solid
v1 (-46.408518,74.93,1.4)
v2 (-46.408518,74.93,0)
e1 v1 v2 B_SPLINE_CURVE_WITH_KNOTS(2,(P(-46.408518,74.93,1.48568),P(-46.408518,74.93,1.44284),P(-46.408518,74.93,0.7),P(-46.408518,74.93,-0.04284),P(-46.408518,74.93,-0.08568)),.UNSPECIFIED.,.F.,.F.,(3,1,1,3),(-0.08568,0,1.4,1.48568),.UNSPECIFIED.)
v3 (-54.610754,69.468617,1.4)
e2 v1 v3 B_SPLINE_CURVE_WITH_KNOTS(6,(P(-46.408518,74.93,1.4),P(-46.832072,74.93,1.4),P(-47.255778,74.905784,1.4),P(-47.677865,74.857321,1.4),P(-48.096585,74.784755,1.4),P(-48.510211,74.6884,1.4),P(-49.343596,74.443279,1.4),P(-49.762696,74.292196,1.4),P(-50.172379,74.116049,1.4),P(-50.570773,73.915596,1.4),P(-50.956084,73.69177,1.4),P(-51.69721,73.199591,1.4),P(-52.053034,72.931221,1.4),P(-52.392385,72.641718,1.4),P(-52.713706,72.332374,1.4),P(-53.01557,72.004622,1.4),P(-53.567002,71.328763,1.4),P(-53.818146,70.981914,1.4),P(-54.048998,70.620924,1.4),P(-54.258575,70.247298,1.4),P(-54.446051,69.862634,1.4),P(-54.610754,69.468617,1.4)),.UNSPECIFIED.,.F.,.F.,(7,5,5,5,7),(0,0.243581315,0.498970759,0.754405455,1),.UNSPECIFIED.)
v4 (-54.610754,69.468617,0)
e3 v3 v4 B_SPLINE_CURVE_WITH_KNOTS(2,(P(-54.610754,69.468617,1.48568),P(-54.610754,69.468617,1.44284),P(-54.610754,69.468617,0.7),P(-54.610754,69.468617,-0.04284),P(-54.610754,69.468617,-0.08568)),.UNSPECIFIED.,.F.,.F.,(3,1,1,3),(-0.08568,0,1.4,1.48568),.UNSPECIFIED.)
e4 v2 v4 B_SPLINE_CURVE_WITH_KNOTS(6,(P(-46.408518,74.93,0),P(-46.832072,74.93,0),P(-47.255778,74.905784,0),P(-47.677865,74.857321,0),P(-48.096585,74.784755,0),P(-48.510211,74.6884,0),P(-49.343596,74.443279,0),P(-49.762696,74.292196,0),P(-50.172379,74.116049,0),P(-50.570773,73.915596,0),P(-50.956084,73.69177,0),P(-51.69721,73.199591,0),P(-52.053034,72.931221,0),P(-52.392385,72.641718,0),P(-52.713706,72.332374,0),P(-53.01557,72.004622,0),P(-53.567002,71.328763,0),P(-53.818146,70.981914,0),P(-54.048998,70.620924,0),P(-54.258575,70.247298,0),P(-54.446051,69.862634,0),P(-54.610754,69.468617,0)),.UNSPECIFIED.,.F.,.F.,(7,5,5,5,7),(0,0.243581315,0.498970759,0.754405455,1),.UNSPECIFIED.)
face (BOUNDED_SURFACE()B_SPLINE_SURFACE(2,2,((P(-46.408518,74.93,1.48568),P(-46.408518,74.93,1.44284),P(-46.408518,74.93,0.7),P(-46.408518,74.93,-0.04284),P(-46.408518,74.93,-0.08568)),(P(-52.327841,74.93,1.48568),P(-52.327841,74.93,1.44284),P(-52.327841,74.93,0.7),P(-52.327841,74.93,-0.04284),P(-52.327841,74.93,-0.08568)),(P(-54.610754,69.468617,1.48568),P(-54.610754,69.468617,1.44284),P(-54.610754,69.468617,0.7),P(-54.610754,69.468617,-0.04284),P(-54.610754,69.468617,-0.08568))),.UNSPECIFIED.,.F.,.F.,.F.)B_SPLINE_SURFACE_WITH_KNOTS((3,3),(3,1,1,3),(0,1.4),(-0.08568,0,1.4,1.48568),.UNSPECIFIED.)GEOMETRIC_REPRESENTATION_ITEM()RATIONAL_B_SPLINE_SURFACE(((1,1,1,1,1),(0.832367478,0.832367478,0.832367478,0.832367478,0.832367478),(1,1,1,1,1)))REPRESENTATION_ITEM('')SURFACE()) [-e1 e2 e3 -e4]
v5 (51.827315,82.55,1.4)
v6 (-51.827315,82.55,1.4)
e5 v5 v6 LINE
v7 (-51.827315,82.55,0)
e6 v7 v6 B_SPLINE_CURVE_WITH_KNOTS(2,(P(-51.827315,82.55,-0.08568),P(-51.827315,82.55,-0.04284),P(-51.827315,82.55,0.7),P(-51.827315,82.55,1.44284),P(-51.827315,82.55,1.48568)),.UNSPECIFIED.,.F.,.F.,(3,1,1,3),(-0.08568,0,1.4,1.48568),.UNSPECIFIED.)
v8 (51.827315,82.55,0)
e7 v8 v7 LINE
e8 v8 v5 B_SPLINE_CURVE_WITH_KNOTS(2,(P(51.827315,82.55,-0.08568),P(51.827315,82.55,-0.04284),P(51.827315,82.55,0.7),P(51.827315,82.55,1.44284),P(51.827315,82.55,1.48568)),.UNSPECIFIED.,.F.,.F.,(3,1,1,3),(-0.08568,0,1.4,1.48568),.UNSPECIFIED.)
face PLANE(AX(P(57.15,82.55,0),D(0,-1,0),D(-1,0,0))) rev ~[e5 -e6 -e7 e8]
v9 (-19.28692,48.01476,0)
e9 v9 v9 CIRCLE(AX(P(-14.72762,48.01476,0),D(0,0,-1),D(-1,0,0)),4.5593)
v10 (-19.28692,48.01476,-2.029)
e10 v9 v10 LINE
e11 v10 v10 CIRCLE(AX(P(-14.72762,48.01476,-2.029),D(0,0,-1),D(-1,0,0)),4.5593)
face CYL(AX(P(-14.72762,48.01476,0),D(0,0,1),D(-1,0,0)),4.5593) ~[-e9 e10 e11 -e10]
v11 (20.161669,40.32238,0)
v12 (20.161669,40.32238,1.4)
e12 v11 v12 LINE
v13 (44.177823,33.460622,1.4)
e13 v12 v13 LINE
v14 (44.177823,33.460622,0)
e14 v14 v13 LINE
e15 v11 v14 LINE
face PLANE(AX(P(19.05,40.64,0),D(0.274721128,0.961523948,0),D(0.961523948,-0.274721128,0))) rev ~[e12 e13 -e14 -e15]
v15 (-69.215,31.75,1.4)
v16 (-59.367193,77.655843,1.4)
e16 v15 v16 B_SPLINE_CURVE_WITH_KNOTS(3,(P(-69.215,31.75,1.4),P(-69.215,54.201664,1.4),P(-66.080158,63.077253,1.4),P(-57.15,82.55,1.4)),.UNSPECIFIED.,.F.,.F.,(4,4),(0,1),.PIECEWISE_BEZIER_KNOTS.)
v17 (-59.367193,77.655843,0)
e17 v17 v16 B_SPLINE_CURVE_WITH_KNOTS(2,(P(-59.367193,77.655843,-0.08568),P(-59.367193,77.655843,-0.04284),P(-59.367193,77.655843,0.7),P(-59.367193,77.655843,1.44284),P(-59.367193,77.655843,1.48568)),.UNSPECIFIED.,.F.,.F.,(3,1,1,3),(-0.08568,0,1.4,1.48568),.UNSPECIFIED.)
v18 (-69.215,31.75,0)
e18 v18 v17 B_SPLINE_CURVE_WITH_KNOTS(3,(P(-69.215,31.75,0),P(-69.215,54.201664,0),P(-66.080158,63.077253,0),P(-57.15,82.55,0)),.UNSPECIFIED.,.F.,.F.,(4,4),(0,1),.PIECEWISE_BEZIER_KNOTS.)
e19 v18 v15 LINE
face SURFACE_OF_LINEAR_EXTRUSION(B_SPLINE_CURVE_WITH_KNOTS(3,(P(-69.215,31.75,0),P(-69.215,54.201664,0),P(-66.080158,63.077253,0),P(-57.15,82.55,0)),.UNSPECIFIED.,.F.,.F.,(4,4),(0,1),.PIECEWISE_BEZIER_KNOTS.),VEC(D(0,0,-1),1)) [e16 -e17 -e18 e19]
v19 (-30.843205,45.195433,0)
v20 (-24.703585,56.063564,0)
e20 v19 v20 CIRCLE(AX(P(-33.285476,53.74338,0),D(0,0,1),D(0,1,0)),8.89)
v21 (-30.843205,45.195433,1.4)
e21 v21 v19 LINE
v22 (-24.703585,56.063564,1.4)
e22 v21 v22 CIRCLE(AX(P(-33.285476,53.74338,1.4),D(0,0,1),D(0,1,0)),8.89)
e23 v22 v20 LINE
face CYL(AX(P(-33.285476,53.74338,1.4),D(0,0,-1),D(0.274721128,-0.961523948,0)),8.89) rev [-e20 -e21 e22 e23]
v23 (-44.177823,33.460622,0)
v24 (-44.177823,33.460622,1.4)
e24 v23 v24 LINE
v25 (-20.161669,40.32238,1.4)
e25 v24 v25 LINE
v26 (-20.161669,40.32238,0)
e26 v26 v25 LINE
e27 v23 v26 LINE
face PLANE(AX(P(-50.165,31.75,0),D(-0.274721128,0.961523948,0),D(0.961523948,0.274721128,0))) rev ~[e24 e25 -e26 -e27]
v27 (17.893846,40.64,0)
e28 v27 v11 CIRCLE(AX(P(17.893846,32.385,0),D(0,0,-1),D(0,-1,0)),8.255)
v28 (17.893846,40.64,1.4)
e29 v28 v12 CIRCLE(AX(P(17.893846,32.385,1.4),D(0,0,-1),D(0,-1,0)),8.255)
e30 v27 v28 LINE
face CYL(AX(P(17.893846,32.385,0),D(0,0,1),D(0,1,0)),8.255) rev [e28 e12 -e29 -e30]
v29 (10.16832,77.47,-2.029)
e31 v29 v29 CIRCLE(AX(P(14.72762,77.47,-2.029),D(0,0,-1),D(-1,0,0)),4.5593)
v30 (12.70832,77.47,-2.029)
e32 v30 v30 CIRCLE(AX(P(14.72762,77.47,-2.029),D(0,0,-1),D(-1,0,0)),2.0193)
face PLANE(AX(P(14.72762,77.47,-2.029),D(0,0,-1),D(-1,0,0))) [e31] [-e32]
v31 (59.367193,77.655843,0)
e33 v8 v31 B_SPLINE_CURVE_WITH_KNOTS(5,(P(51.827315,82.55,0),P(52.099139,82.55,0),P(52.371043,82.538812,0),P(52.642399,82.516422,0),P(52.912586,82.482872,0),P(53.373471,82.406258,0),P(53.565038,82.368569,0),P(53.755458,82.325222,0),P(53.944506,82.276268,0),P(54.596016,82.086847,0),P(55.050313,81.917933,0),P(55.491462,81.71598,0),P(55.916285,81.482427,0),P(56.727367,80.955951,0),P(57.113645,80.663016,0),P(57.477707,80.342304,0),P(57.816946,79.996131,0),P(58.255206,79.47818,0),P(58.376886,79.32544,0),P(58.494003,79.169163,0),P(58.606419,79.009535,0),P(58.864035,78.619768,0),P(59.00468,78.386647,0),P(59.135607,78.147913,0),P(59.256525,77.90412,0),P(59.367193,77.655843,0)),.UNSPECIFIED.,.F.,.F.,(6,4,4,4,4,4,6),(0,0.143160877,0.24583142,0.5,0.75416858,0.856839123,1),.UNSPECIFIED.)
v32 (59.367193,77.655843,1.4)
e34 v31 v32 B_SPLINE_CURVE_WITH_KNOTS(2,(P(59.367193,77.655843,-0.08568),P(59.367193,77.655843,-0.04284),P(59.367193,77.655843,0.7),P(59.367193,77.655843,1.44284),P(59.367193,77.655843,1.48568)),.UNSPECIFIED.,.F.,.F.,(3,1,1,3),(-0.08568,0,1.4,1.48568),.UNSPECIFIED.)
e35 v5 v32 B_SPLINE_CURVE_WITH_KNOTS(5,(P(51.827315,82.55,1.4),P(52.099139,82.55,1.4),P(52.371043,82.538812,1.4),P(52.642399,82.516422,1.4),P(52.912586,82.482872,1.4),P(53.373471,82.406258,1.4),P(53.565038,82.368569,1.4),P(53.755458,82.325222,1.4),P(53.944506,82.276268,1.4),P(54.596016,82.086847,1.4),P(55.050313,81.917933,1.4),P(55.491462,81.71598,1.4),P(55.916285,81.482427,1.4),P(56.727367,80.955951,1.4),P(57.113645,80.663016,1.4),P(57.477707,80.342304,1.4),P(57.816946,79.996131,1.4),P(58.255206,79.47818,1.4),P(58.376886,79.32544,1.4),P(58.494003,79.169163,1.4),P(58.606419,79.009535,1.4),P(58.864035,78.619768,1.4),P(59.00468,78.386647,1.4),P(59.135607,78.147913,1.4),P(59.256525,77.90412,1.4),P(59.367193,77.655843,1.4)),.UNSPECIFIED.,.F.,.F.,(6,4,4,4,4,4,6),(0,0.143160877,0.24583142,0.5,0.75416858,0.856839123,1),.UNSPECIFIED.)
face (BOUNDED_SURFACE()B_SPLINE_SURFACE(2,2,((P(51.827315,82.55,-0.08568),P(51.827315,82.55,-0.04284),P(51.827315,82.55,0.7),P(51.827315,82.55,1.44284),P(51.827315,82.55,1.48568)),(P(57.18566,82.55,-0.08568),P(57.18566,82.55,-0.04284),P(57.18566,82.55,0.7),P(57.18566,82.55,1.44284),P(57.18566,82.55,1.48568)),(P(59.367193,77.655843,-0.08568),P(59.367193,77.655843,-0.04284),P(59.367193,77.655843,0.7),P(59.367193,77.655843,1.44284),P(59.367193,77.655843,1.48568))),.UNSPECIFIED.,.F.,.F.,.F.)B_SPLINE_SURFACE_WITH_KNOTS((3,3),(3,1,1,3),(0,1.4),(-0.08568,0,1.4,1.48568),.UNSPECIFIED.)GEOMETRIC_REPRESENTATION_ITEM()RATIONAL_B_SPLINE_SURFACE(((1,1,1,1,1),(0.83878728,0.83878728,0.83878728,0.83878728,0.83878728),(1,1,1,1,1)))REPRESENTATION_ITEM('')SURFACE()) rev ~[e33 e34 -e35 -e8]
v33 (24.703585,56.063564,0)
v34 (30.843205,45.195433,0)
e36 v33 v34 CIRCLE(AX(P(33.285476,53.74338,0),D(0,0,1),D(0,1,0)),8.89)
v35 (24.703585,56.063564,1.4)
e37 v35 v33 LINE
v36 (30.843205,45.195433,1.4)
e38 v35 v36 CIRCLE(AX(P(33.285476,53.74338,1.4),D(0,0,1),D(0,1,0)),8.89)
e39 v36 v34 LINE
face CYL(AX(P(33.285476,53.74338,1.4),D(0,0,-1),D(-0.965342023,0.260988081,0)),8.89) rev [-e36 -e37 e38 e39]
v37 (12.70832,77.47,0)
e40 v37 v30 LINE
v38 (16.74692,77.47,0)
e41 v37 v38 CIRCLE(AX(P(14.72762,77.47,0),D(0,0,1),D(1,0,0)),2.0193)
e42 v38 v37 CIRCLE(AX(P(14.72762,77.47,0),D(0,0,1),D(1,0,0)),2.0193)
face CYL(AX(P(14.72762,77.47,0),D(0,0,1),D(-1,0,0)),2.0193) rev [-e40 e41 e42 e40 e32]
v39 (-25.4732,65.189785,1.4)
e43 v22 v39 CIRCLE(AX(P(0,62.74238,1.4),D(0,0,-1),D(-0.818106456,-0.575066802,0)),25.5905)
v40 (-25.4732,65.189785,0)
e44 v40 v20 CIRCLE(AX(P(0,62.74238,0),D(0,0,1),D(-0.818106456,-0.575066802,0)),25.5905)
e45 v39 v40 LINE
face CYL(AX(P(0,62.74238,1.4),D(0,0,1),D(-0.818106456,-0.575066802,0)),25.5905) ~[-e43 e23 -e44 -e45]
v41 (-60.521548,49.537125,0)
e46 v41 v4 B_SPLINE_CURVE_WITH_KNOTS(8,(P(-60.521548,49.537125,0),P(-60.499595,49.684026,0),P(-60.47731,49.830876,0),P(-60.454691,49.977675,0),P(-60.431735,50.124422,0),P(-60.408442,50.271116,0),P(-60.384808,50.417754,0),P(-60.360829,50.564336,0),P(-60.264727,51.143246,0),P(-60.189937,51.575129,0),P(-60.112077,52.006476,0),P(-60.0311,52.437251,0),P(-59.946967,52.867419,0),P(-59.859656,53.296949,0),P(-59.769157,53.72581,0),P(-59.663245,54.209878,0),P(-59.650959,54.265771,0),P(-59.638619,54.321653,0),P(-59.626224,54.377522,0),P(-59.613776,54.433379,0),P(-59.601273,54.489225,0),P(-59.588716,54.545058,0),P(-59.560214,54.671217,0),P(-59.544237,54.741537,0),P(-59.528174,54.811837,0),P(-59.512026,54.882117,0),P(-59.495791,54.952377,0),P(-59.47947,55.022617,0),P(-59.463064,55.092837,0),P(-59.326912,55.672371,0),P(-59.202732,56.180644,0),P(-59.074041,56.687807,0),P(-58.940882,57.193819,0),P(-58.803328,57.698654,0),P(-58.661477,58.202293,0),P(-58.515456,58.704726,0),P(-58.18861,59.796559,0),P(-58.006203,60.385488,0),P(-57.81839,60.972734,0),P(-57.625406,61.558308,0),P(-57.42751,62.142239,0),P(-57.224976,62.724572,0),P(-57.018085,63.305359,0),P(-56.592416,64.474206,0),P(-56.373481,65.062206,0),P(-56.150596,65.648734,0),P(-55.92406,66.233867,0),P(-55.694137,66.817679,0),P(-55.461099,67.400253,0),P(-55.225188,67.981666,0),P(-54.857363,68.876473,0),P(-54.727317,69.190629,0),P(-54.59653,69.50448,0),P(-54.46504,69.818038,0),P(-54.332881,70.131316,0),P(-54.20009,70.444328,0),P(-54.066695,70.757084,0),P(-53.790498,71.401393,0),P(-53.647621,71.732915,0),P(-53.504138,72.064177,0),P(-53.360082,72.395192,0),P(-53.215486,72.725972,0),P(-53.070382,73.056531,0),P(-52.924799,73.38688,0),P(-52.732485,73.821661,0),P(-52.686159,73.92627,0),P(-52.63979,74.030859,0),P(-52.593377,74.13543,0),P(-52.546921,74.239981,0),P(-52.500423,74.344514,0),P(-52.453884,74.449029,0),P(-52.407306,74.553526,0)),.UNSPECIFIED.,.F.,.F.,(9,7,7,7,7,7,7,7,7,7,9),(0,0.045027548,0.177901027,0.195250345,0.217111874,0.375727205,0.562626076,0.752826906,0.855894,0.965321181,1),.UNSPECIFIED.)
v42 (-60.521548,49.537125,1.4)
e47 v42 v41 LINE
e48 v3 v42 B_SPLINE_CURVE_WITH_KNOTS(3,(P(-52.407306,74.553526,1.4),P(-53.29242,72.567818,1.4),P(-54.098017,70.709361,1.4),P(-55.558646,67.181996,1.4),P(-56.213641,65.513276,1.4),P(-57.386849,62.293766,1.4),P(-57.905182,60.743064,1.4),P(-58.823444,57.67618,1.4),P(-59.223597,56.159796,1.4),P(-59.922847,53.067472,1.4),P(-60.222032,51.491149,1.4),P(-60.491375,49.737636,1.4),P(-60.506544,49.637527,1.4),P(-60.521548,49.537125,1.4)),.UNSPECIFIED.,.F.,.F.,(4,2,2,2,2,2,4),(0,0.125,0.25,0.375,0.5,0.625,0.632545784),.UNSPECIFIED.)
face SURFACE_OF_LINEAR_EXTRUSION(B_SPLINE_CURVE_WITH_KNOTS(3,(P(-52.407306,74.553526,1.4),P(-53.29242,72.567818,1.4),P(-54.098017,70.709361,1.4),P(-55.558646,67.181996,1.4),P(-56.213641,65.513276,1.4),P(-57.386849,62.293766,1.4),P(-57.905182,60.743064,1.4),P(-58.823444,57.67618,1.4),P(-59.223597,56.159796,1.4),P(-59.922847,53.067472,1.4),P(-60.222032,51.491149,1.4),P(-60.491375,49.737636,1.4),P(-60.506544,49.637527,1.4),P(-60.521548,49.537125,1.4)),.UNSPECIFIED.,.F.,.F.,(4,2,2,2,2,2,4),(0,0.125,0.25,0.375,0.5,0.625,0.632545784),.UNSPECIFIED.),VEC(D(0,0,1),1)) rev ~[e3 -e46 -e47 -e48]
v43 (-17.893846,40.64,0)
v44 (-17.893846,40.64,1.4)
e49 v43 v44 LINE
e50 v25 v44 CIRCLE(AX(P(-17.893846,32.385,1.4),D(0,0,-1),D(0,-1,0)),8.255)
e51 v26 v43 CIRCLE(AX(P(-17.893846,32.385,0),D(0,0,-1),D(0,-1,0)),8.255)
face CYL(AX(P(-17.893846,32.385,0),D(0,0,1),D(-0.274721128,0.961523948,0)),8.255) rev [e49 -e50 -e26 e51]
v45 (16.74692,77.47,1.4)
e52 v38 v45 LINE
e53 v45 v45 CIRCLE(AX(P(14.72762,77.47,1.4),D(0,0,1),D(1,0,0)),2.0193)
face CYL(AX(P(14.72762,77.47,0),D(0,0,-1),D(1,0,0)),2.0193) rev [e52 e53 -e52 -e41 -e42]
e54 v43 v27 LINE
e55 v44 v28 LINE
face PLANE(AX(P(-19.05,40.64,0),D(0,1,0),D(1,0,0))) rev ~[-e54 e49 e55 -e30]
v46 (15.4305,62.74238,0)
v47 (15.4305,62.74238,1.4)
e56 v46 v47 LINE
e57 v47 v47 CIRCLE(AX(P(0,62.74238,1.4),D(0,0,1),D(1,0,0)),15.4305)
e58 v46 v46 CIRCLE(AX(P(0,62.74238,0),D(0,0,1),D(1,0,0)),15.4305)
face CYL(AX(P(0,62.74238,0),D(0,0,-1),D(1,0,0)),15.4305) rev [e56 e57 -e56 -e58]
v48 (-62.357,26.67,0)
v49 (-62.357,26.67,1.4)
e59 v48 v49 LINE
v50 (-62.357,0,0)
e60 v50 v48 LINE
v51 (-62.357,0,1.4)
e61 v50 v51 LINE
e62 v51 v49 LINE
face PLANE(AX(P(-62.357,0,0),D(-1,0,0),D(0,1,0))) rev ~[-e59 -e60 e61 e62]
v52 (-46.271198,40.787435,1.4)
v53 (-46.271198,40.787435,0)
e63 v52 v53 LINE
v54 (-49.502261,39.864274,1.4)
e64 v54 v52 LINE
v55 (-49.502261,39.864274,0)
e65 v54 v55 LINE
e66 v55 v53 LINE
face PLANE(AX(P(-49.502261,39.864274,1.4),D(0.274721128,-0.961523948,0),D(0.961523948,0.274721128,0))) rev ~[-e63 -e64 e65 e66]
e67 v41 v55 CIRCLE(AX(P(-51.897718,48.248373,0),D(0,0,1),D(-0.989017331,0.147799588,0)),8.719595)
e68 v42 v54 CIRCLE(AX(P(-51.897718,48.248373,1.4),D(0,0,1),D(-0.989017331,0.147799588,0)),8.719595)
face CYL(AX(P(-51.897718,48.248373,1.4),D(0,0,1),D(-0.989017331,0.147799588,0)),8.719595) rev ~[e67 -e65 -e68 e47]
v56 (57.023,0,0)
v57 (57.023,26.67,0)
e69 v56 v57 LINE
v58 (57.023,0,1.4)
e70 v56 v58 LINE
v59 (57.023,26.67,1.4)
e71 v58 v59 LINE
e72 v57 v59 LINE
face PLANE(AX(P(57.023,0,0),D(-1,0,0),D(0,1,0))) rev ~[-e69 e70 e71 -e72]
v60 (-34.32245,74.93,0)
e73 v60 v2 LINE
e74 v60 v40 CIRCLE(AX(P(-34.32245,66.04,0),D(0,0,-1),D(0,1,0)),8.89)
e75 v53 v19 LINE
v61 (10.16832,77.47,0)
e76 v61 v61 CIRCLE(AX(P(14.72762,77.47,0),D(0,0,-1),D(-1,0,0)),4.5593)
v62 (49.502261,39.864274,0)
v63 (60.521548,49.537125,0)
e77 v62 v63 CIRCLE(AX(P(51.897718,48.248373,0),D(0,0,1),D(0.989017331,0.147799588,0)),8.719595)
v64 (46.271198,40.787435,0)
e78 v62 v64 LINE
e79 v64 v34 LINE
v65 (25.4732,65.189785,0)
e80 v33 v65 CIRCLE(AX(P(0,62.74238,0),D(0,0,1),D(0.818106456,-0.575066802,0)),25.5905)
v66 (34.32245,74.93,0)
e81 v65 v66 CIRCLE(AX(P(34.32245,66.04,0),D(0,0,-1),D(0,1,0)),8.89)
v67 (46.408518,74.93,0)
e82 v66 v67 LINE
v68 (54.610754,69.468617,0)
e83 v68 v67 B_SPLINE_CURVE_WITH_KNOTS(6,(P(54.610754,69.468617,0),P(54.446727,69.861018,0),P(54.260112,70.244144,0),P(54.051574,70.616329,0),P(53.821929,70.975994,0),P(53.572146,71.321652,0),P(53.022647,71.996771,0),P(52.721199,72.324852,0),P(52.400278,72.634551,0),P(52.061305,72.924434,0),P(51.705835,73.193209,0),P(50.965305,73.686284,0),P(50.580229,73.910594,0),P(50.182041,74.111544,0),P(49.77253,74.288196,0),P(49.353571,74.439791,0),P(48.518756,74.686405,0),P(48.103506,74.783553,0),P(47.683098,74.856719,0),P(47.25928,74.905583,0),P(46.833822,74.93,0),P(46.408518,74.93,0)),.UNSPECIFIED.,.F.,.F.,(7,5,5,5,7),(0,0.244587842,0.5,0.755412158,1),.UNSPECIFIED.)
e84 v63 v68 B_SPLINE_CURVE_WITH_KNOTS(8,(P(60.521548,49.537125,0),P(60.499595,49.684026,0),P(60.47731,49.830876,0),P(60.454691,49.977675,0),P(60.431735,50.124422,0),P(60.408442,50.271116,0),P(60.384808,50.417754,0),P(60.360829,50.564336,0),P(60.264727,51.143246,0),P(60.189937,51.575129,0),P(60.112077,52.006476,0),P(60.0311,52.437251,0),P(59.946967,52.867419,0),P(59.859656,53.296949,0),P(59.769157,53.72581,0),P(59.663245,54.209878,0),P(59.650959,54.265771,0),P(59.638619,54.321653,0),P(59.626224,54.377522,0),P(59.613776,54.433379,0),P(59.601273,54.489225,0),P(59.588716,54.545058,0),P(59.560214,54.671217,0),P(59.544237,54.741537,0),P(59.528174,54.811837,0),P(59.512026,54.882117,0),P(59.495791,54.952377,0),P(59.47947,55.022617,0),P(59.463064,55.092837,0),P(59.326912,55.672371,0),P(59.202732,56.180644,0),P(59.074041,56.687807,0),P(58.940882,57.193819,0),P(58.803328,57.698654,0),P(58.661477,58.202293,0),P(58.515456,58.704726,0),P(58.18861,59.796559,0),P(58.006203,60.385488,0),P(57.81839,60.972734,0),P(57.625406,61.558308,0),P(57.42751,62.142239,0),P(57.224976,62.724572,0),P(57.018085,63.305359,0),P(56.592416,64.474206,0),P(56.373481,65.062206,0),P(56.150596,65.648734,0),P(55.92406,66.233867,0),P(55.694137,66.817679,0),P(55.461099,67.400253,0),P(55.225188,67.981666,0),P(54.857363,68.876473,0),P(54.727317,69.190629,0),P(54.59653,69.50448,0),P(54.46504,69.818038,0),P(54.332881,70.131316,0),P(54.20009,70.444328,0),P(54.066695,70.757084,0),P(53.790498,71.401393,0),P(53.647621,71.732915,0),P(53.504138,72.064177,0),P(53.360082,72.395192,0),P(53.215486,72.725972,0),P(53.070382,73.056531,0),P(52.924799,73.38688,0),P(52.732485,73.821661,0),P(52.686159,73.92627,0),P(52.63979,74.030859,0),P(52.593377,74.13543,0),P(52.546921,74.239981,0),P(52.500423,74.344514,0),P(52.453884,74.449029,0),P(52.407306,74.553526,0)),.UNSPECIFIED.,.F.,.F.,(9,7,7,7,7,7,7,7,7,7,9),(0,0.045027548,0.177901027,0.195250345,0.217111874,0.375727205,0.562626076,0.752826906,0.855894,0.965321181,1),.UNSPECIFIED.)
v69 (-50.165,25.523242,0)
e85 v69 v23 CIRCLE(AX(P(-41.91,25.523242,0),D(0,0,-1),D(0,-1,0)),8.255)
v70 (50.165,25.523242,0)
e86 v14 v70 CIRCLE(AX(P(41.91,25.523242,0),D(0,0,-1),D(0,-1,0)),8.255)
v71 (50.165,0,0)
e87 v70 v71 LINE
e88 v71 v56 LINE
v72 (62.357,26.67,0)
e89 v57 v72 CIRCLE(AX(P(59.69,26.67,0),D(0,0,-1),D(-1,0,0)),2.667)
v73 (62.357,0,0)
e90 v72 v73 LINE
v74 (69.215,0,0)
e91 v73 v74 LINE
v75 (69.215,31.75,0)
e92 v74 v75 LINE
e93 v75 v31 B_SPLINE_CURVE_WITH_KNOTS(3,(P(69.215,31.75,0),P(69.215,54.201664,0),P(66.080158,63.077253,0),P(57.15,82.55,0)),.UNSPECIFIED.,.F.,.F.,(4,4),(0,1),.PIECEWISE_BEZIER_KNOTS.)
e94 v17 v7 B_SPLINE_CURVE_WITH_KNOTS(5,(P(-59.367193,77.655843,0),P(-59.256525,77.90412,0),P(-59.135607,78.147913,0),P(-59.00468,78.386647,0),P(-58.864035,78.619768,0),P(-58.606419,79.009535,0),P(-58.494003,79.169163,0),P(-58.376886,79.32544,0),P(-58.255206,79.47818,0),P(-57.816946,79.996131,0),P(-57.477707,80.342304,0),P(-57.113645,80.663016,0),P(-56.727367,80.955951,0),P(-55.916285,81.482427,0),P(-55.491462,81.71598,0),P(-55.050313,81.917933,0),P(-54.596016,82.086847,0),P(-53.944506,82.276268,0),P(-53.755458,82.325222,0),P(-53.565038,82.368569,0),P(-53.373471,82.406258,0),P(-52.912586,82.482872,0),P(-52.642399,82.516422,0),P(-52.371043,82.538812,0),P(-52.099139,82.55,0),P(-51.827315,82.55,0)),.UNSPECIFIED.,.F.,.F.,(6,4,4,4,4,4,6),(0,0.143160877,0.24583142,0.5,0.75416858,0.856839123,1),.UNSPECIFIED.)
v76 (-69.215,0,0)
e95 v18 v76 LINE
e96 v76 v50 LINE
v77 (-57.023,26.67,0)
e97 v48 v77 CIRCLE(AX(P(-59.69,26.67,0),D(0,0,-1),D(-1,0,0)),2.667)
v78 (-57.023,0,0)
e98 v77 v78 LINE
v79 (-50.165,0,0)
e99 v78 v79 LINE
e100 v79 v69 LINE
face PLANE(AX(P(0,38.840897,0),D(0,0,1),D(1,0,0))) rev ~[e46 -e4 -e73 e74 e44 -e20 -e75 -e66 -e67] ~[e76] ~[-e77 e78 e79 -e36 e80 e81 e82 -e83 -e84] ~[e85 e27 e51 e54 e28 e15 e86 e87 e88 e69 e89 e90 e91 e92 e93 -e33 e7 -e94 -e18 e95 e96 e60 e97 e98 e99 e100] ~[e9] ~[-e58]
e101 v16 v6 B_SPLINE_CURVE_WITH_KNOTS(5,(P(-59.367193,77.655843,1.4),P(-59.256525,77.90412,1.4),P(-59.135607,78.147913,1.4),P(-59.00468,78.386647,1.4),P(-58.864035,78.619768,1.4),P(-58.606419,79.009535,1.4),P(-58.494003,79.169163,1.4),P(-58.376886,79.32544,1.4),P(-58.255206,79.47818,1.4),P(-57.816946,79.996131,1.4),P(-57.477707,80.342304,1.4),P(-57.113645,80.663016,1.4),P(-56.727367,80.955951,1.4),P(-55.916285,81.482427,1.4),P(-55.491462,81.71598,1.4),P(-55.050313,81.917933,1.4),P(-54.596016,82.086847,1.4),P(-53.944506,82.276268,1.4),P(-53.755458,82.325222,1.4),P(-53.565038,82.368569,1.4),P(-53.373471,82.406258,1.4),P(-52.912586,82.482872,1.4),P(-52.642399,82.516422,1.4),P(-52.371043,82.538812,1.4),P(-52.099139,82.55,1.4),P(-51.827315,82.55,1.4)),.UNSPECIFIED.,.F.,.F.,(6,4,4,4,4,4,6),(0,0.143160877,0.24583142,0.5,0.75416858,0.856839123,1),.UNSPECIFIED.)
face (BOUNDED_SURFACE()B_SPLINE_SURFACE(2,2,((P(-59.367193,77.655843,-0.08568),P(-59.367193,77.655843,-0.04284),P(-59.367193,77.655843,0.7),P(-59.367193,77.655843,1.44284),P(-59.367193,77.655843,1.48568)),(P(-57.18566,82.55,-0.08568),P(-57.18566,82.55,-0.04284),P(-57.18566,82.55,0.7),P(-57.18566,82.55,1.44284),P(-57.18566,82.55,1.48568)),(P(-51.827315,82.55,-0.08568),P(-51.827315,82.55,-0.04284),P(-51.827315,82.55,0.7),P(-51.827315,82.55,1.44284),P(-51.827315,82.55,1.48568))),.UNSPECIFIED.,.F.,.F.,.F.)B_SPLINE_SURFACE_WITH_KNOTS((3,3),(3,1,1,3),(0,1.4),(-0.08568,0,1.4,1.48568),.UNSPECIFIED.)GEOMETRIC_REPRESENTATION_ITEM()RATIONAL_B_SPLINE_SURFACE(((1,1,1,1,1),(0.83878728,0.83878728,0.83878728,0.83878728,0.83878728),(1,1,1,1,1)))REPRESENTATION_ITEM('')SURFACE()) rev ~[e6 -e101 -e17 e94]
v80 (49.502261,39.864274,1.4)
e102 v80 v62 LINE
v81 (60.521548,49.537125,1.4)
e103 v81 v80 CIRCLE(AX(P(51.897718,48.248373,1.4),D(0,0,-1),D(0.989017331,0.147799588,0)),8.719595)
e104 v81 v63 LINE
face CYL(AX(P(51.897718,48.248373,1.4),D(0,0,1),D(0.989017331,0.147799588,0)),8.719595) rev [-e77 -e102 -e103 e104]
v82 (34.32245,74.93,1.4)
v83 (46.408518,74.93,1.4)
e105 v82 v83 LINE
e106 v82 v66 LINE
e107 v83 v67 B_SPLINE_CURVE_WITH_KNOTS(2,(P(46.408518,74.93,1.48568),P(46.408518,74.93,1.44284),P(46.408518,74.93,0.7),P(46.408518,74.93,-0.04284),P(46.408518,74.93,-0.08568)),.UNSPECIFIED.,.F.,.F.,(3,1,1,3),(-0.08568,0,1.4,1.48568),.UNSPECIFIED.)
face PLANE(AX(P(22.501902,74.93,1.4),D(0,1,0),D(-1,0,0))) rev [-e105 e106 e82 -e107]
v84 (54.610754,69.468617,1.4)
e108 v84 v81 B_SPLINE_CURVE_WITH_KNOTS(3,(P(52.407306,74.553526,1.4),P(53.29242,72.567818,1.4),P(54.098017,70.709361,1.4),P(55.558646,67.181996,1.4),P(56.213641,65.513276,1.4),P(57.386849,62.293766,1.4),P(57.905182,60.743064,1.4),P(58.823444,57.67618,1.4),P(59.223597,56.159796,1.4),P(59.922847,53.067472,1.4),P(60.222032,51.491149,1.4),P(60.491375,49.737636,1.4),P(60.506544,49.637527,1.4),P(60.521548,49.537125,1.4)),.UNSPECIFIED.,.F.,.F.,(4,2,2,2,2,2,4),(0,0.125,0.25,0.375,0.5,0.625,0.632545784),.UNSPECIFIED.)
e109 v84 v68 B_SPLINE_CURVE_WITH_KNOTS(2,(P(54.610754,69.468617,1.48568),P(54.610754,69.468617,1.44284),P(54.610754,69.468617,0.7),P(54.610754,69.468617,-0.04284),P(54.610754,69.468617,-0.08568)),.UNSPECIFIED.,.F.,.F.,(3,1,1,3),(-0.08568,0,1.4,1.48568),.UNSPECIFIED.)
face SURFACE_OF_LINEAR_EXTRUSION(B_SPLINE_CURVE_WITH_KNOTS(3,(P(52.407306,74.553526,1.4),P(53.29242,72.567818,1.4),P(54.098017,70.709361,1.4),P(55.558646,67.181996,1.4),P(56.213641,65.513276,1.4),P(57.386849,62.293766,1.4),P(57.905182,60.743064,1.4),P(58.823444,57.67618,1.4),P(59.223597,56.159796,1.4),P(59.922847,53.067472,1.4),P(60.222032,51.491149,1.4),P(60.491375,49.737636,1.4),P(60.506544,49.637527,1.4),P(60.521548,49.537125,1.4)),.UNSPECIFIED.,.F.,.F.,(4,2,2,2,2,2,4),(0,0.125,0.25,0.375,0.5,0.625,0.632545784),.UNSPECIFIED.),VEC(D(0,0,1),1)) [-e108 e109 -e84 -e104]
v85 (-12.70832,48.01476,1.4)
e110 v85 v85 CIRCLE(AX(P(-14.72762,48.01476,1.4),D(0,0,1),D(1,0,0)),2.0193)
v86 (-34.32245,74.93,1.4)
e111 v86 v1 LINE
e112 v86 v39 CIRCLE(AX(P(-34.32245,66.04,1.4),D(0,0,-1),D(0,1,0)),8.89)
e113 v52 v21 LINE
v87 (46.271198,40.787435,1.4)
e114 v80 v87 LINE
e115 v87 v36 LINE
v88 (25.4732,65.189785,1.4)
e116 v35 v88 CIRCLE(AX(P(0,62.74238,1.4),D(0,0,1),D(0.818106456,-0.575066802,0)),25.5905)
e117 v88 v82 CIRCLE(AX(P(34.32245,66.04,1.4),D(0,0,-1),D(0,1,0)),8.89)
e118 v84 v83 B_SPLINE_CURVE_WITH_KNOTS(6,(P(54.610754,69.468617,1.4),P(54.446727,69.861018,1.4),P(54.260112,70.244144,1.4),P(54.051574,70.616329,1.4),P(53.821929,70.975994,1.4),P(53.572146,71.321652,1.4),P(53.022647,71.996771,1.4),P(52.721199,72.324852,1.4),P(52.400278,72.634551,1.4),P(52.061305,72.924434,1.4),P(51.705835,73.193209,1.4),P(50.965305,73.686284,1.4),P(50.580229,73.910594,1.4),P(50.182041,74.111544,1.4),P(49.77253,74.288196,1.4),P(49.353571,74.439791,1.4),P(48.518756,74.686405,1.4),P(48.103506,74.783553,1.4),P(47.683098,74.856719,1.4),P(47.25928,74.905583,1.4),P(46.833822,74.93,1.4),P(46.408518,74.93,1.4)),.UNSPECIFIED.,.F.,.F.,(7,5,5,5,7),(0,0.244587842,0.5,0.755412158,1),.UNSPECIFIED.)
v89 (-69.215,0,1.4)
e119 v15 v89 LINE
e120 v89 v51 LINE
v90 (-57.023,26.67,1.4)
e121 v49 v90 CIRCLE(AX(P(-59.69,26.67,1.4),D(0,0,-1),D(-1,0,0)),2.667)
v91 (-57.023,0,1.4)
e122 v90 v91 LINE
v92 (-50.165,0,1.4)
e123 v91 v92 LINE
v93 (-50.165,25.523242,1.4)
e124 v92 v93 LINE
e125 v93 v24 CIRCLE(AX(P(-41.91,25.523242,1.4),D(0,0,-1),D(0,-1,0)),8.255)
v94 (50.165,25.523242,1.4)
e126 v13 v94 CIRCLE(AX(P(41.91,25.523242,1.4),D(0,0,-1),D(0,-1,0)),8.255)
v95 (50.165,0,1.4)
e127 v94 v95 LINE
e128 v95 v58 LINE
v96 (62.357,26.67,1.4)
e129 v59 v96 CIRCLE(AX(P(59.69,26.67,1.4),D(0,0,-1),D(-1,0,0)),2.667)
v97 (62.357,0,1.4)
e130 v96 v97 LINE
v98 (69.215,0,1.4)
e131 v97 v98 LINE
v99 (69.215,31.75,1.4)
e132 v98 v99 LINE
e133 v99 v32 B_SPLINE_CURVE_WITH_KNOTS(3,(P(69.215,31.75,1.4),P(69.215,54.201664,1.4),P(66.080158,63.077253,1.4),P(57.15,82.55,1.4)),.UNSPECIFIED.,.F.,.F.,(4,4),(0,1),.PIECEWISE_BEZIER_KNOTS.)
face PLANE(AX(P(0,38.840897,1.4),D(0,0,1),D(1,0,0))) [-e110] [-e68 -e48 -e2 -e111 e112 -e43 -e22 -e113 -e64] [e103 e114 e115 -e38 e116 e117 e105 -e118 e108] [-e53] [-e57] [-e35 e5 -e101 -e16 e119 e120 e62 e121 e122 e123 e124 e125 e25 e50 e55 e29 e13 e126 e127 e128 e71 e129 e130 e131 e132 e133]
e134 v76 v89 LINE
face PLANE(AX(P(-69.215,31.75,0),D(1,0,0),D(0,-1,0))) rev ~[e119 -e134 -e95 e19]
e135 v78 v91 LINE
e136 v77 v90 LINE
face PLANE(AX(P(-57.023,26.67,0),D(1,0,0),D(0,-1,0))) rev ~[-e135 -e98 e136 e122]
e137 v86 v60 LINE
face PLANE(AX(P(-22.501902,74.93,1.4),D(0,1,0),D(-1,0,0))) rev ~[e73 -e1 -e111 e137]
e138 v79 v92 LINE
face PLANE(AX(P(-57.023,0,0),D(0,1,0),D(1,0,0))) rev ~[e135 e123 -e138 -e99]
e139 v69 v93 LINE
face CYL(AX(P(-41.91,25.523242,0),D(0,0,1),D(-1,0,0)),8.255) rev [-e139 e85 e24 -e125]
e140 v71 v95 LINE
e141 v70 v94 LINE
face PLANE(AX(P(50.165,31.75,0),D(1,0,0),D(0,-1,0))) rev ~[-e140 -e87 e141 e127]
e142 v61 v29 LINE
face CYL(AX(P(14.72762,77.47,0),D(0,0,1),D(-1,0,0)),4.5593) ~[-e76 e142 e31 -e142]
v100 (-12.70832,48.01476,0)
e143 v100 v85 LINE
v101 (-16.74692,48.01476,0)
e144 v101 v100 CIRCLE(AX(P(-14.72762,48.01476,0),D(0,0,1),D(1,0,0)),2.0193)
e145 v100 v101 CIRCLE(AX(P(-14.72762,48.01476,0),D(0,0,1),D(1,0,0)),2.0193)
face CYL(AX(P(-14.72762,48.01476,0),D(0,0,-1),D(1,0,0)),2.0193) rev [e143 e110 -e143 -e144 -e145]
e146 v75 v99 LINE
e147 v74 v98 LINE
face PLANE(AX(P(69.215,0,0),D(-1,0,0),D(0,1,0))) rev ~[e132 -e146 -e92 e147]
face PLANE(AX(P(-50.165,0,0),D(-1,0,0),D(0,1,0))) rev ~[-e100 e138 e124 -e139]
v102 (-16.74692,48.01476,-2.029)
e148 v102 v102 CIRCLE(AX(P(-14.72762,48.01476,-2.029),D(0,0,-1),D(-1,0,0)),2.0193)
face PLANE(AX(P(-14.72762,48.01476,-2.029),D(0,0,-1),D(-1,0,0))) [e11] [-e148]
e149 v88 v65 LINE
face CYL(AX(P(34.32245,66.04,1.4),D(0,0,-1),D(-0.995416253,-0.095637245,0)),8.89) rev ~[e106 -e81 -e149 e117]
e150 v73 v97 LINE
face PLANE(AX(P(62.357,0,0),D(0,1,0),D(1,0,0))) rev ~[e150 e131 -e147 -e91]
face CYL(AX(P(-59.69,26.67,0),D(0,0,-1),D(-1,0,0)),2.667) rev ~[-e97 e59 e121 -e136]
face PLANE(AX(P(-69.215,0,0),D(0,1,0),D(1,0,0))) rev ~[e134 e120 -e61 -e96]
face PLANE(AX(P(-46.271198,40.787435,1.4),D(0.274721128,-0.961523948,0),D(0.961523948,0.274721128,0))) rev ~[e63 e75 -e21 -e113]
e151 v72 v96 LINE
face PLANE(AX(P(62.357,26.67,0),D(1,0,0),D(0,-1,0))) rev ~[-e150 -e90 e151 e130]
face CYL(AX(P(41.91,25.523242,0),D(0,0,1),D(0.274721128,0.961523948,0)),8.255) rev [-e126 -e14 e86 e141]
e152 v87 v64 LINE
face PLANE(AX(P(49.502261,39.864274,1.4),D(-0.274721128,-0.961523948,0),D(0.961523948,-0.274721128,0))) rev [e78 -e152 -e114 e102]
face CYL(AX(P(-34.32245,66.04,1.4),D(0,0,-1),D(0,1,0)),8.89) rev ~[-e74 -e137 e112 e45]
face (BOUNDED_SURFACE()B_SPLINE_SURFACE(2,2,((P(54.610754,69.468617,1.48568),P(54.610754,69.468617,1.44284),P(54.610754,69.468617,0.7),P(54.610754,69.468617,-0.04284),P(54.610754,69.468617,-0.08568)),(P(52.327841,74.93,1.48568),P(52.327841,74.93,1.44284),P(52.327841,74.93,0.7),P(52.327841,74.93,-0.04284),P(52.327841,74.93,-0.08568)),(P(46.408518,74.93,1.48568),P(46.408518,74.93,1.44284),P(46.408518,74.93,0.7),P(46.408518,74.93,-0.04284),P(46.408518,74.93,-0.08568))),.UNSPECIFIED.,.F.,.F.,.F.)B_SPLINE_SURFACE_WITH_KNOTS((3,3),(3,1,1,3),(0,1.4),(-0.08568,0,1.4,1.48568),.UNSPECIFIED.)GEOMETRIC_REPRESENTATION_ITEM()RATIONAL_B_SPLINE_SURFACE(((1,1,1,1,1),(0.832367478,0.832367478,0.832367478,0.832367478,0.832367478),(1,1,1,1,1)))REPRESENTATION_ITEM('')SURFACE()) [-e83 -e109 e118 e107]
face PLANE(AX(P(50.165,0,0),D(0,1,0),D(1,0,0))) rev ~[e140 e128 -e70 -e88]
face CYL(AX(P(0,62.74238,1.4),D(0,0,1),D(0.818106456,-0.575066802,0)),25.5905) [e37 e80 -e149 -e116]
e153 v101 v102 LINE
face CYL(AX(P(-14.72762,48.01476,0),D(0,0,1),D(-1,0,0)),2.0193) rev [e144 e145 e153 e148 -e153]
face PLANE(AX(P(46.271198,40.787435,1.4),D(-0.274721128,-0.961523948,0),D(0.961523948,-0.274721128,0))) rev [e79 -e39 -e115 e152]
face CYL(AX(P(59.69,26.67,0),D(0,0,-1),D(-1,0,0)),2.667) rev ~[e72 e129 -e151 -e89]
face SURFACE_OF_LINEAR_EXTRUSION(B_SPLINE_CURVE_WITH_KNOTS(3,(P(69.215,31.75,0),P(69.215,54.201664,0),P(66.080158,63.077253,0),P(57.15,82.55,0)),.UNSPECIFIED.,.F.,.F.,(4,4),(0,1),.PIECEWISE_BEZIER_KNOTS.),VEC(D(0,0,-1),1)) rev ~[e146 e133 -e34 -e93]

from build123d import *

# Parameters (mm, degrees)
SKETCH2_R            = 15.4305
SKETCH2_R_2          = 2.0193
BOSS_EXTRUDE1_DEPTH  = 1.4
FILLET4_R            = 8.255
CUT_EXTRUDE1_DEPTH   = 2.4000001
FILLET5_R            = 8.89
FILLET5_OF_MIRROR1_R = 8.89
SKETCH8_R            = 4.5593
SKETCH8_R_2          = 2.0193
BOSS_EXTRUDE2_DEPTH  = 2.029


with BuildPart() as part:
    # Sketch2 → Boss-Extrude1 (new body)
    with BuildSketch(Plane.XY):
        with BuildLine():
            Line((-69.215, 12.7), (-69.215, 0))
            Line((-69.215, 0), (-62.357, 0))
            Line((-62.357, 0), (-62.357, 26.67))
            ThreePointArc((-62.357, 26.67), (-59.69, 29.337), (-57.023, 26.67))
            Line((-57.023, 26.67), (-57.023, 0))
            Line((-57.023, 0), (-50.165, 0))
            Line((-50.165, 0), (-50.165, 31.75))
            Line((-50.165, 31.75), (-19.05, 40.64))
            Line((-19.05, 40.64), (0, 40.64))
            Line((0, 40.64), (19.05, 40.64))
            Line((19.05, 40.64), (50.165, 31.75))
            Line((50.165, 31.75), (50.165, 0))
            Line((50.165, 0), (57.023, 0))
            Line((57.023, 0), (57.023, 26.67))
            ThreePointArc((57.023, 26.67), (59.69, 29.337), (62.357, 26.67))
            Line((62.357, 26.67), (62.357, 0))
            Line((62.357, 0), (69.215, 0))
            Line((69.215, 0), (69.215, 12.7))
            Line((69.215, 12.7), (69.215, 31.75))
            add(Edge.make_bspline(
                [(69.215, 31.75), (69.215, 54.201663529), (66.080158446, 63.077253183), (57.15, 82.55)],
                knots=[0, 0, 0, 0, 1, 1, 1, 1], degree=3))
            Line((57.15, 82.55), (-57.15, 82.55))
            add(Edge.make_bspline(
                [(-69.215, 31.75), (-69.215, 54.201663529), (-66.080158446, 63.077253183), (-57.15, 82.55)],
                knots=[0, 0, 0, 0, 1, 1, 1, 1], degree=3))
            Line((-69.215, 31.75), (-69.215, 12.7))
        make_face()
        with Locations((0, 62.742379961)):
            Circle(SKETCH2_R, mode=Mode.SUBTRACT)
        with Locations((-14.727620039, 48.014759923)):
            Circle(SKETCH2_R_2, mode=Mode.SUBTRACT)
        with Locations((14.727620039, 77.47)):
            Circle(SKETCH2_R_2, mode=Mode.SUBTRACT)
    extrude(amount=BOSS_EXTRUDE1_DEPTH)

    # Fillet4
    fillet4_edges = [part.edges().sort_by_distance(p)[0] for p in [
        (57.15, 82.55, 0.7),
        (-57.15, 82.55, 0.7),
        (50.165, 31.75, 0.7),
        (19.05, 40.64, 0.7),
        (-19.05, 40.64, 0.7),
        (-50.165, 31.75, 0.7),
    ]]
    fillet(fillet4_edges, radius=FILLET4_R)

    # Sketch7 → Cut-Extrude1 (cut, through all)
    with BuildSketch(Plane.XY.offset(1.4)):
        with BuildLine():
            Line((-22.501902321, 74.93), (-51.827314967, 74.93))
            Line((-51.827314967, 74.93), (-52.239495321, 74.93))
            Line((-52.239495321, 74.93), (-52.407305567, 74.553526409))
            add(Edge.make_bspline(
                [(-52.407305567, 74.553526409), (-53.292419845, 72.567818402), (-54.098016837, 70.709360728), (-55.558646263, 67.181996285), (-56.213641355, 65.513276159), (-57.386849267, 62.293765878), (-57.905181999, 60.743063744), (-58.823443884, 57.676179523), (-59.223597116, 56.159796082), (-59.922846669, 53.067471662), (-60.222031529, 51.491149103), (-60.491375272, 49.737636417), (-60.506543886, 49.637526891), (-60.521547991, 49.537125261)],
                knots=[0, 0, 0, 0, 0.125, 0.125, 0.25, 0.25, 0.375, 0.375, 0.5, 0.5, 0.625, 0.625, 0.632545784, 0.632545784, 0.632545784, 0.632545784], degree=3))
            ThreePointArc((-60.521547991, 49.537125261), (-57.650036676, 41.695346124), (-49.50226085, 39.864273665))
            Line((-49.50226085, 39.864273665), (-46.271197905, 40.787434507))
            Line((-46.271197905, 40.787434507), (-20.935753267, 48.026132975))
            ThreePointArc((-20.935753267, 48.026132975), (-25.547250262, 61.255203349), (-22.501902321, 74.93))
        make_face()
    cut_extrude1 = extrude(amount=-CUT_EXTRUDE1_DEPTH, mode=Mode.SUBTRACT)

    # Fillet5
    fillet5_edges = [part.edges().sort_by_distance(p)[0] for p in [
        (-22.501902321, 74.93, 0.7),
        (-52.239495321, 74.93, 0.7),
        (-20.935753267, 48.026132975, 0.7),
    ]]
    fillet(fillet5_edges, radius=FILLET5_R)

    # Mirror1: Cut-Extrude1 across plane
    add(cut_extrude1.mirror(Plane(origin=(0, 0, 0), x_dir=(0, 0, 1), z_dir=(1, 0, 0))), mode=Mode.SUBTRACT)

    # Fillet5 of Mirror1
    fillet5_of_mirror1_edges = [part.edges().sort_by_distance(p)[0] for p in [
        (22.501902321, 74.93, 0.7),
        (52.239495321, 74.93, 0.7),
        (20.935753267, 48.026132975, 0.7),
    ]]
    fillet(fillet5_of_mirror1_edges, radius=FILLET5_OF_MIRROR1_R)

    # Sketch8 → Boss-Extrude2 (add)
    with BuildSketch(Plane(origin=(0, 0, 0), x_dir=(-1, 0, 0), z_dir=(0, 0, -1))):
        with Locations((-14.727620039, 77.47)):
            Circle(SKETCH8_R)
        with Locations((-14.727620039, 77.47)):
            Circle(SKETCH8_R_2, mode=Mode.SUBTRACT)
        with Locations((14.727620039, 48.014759923)):
            Circle(SKETCH8_R)
        with Locations((14.727620039, 48.014759923)):
            Circle(SKETCH8_R_2, mode=Mode.SUBTRACT)
    extrude(amount=BOSS_EXTRUDE2_DEPTH)


solid = part.part
